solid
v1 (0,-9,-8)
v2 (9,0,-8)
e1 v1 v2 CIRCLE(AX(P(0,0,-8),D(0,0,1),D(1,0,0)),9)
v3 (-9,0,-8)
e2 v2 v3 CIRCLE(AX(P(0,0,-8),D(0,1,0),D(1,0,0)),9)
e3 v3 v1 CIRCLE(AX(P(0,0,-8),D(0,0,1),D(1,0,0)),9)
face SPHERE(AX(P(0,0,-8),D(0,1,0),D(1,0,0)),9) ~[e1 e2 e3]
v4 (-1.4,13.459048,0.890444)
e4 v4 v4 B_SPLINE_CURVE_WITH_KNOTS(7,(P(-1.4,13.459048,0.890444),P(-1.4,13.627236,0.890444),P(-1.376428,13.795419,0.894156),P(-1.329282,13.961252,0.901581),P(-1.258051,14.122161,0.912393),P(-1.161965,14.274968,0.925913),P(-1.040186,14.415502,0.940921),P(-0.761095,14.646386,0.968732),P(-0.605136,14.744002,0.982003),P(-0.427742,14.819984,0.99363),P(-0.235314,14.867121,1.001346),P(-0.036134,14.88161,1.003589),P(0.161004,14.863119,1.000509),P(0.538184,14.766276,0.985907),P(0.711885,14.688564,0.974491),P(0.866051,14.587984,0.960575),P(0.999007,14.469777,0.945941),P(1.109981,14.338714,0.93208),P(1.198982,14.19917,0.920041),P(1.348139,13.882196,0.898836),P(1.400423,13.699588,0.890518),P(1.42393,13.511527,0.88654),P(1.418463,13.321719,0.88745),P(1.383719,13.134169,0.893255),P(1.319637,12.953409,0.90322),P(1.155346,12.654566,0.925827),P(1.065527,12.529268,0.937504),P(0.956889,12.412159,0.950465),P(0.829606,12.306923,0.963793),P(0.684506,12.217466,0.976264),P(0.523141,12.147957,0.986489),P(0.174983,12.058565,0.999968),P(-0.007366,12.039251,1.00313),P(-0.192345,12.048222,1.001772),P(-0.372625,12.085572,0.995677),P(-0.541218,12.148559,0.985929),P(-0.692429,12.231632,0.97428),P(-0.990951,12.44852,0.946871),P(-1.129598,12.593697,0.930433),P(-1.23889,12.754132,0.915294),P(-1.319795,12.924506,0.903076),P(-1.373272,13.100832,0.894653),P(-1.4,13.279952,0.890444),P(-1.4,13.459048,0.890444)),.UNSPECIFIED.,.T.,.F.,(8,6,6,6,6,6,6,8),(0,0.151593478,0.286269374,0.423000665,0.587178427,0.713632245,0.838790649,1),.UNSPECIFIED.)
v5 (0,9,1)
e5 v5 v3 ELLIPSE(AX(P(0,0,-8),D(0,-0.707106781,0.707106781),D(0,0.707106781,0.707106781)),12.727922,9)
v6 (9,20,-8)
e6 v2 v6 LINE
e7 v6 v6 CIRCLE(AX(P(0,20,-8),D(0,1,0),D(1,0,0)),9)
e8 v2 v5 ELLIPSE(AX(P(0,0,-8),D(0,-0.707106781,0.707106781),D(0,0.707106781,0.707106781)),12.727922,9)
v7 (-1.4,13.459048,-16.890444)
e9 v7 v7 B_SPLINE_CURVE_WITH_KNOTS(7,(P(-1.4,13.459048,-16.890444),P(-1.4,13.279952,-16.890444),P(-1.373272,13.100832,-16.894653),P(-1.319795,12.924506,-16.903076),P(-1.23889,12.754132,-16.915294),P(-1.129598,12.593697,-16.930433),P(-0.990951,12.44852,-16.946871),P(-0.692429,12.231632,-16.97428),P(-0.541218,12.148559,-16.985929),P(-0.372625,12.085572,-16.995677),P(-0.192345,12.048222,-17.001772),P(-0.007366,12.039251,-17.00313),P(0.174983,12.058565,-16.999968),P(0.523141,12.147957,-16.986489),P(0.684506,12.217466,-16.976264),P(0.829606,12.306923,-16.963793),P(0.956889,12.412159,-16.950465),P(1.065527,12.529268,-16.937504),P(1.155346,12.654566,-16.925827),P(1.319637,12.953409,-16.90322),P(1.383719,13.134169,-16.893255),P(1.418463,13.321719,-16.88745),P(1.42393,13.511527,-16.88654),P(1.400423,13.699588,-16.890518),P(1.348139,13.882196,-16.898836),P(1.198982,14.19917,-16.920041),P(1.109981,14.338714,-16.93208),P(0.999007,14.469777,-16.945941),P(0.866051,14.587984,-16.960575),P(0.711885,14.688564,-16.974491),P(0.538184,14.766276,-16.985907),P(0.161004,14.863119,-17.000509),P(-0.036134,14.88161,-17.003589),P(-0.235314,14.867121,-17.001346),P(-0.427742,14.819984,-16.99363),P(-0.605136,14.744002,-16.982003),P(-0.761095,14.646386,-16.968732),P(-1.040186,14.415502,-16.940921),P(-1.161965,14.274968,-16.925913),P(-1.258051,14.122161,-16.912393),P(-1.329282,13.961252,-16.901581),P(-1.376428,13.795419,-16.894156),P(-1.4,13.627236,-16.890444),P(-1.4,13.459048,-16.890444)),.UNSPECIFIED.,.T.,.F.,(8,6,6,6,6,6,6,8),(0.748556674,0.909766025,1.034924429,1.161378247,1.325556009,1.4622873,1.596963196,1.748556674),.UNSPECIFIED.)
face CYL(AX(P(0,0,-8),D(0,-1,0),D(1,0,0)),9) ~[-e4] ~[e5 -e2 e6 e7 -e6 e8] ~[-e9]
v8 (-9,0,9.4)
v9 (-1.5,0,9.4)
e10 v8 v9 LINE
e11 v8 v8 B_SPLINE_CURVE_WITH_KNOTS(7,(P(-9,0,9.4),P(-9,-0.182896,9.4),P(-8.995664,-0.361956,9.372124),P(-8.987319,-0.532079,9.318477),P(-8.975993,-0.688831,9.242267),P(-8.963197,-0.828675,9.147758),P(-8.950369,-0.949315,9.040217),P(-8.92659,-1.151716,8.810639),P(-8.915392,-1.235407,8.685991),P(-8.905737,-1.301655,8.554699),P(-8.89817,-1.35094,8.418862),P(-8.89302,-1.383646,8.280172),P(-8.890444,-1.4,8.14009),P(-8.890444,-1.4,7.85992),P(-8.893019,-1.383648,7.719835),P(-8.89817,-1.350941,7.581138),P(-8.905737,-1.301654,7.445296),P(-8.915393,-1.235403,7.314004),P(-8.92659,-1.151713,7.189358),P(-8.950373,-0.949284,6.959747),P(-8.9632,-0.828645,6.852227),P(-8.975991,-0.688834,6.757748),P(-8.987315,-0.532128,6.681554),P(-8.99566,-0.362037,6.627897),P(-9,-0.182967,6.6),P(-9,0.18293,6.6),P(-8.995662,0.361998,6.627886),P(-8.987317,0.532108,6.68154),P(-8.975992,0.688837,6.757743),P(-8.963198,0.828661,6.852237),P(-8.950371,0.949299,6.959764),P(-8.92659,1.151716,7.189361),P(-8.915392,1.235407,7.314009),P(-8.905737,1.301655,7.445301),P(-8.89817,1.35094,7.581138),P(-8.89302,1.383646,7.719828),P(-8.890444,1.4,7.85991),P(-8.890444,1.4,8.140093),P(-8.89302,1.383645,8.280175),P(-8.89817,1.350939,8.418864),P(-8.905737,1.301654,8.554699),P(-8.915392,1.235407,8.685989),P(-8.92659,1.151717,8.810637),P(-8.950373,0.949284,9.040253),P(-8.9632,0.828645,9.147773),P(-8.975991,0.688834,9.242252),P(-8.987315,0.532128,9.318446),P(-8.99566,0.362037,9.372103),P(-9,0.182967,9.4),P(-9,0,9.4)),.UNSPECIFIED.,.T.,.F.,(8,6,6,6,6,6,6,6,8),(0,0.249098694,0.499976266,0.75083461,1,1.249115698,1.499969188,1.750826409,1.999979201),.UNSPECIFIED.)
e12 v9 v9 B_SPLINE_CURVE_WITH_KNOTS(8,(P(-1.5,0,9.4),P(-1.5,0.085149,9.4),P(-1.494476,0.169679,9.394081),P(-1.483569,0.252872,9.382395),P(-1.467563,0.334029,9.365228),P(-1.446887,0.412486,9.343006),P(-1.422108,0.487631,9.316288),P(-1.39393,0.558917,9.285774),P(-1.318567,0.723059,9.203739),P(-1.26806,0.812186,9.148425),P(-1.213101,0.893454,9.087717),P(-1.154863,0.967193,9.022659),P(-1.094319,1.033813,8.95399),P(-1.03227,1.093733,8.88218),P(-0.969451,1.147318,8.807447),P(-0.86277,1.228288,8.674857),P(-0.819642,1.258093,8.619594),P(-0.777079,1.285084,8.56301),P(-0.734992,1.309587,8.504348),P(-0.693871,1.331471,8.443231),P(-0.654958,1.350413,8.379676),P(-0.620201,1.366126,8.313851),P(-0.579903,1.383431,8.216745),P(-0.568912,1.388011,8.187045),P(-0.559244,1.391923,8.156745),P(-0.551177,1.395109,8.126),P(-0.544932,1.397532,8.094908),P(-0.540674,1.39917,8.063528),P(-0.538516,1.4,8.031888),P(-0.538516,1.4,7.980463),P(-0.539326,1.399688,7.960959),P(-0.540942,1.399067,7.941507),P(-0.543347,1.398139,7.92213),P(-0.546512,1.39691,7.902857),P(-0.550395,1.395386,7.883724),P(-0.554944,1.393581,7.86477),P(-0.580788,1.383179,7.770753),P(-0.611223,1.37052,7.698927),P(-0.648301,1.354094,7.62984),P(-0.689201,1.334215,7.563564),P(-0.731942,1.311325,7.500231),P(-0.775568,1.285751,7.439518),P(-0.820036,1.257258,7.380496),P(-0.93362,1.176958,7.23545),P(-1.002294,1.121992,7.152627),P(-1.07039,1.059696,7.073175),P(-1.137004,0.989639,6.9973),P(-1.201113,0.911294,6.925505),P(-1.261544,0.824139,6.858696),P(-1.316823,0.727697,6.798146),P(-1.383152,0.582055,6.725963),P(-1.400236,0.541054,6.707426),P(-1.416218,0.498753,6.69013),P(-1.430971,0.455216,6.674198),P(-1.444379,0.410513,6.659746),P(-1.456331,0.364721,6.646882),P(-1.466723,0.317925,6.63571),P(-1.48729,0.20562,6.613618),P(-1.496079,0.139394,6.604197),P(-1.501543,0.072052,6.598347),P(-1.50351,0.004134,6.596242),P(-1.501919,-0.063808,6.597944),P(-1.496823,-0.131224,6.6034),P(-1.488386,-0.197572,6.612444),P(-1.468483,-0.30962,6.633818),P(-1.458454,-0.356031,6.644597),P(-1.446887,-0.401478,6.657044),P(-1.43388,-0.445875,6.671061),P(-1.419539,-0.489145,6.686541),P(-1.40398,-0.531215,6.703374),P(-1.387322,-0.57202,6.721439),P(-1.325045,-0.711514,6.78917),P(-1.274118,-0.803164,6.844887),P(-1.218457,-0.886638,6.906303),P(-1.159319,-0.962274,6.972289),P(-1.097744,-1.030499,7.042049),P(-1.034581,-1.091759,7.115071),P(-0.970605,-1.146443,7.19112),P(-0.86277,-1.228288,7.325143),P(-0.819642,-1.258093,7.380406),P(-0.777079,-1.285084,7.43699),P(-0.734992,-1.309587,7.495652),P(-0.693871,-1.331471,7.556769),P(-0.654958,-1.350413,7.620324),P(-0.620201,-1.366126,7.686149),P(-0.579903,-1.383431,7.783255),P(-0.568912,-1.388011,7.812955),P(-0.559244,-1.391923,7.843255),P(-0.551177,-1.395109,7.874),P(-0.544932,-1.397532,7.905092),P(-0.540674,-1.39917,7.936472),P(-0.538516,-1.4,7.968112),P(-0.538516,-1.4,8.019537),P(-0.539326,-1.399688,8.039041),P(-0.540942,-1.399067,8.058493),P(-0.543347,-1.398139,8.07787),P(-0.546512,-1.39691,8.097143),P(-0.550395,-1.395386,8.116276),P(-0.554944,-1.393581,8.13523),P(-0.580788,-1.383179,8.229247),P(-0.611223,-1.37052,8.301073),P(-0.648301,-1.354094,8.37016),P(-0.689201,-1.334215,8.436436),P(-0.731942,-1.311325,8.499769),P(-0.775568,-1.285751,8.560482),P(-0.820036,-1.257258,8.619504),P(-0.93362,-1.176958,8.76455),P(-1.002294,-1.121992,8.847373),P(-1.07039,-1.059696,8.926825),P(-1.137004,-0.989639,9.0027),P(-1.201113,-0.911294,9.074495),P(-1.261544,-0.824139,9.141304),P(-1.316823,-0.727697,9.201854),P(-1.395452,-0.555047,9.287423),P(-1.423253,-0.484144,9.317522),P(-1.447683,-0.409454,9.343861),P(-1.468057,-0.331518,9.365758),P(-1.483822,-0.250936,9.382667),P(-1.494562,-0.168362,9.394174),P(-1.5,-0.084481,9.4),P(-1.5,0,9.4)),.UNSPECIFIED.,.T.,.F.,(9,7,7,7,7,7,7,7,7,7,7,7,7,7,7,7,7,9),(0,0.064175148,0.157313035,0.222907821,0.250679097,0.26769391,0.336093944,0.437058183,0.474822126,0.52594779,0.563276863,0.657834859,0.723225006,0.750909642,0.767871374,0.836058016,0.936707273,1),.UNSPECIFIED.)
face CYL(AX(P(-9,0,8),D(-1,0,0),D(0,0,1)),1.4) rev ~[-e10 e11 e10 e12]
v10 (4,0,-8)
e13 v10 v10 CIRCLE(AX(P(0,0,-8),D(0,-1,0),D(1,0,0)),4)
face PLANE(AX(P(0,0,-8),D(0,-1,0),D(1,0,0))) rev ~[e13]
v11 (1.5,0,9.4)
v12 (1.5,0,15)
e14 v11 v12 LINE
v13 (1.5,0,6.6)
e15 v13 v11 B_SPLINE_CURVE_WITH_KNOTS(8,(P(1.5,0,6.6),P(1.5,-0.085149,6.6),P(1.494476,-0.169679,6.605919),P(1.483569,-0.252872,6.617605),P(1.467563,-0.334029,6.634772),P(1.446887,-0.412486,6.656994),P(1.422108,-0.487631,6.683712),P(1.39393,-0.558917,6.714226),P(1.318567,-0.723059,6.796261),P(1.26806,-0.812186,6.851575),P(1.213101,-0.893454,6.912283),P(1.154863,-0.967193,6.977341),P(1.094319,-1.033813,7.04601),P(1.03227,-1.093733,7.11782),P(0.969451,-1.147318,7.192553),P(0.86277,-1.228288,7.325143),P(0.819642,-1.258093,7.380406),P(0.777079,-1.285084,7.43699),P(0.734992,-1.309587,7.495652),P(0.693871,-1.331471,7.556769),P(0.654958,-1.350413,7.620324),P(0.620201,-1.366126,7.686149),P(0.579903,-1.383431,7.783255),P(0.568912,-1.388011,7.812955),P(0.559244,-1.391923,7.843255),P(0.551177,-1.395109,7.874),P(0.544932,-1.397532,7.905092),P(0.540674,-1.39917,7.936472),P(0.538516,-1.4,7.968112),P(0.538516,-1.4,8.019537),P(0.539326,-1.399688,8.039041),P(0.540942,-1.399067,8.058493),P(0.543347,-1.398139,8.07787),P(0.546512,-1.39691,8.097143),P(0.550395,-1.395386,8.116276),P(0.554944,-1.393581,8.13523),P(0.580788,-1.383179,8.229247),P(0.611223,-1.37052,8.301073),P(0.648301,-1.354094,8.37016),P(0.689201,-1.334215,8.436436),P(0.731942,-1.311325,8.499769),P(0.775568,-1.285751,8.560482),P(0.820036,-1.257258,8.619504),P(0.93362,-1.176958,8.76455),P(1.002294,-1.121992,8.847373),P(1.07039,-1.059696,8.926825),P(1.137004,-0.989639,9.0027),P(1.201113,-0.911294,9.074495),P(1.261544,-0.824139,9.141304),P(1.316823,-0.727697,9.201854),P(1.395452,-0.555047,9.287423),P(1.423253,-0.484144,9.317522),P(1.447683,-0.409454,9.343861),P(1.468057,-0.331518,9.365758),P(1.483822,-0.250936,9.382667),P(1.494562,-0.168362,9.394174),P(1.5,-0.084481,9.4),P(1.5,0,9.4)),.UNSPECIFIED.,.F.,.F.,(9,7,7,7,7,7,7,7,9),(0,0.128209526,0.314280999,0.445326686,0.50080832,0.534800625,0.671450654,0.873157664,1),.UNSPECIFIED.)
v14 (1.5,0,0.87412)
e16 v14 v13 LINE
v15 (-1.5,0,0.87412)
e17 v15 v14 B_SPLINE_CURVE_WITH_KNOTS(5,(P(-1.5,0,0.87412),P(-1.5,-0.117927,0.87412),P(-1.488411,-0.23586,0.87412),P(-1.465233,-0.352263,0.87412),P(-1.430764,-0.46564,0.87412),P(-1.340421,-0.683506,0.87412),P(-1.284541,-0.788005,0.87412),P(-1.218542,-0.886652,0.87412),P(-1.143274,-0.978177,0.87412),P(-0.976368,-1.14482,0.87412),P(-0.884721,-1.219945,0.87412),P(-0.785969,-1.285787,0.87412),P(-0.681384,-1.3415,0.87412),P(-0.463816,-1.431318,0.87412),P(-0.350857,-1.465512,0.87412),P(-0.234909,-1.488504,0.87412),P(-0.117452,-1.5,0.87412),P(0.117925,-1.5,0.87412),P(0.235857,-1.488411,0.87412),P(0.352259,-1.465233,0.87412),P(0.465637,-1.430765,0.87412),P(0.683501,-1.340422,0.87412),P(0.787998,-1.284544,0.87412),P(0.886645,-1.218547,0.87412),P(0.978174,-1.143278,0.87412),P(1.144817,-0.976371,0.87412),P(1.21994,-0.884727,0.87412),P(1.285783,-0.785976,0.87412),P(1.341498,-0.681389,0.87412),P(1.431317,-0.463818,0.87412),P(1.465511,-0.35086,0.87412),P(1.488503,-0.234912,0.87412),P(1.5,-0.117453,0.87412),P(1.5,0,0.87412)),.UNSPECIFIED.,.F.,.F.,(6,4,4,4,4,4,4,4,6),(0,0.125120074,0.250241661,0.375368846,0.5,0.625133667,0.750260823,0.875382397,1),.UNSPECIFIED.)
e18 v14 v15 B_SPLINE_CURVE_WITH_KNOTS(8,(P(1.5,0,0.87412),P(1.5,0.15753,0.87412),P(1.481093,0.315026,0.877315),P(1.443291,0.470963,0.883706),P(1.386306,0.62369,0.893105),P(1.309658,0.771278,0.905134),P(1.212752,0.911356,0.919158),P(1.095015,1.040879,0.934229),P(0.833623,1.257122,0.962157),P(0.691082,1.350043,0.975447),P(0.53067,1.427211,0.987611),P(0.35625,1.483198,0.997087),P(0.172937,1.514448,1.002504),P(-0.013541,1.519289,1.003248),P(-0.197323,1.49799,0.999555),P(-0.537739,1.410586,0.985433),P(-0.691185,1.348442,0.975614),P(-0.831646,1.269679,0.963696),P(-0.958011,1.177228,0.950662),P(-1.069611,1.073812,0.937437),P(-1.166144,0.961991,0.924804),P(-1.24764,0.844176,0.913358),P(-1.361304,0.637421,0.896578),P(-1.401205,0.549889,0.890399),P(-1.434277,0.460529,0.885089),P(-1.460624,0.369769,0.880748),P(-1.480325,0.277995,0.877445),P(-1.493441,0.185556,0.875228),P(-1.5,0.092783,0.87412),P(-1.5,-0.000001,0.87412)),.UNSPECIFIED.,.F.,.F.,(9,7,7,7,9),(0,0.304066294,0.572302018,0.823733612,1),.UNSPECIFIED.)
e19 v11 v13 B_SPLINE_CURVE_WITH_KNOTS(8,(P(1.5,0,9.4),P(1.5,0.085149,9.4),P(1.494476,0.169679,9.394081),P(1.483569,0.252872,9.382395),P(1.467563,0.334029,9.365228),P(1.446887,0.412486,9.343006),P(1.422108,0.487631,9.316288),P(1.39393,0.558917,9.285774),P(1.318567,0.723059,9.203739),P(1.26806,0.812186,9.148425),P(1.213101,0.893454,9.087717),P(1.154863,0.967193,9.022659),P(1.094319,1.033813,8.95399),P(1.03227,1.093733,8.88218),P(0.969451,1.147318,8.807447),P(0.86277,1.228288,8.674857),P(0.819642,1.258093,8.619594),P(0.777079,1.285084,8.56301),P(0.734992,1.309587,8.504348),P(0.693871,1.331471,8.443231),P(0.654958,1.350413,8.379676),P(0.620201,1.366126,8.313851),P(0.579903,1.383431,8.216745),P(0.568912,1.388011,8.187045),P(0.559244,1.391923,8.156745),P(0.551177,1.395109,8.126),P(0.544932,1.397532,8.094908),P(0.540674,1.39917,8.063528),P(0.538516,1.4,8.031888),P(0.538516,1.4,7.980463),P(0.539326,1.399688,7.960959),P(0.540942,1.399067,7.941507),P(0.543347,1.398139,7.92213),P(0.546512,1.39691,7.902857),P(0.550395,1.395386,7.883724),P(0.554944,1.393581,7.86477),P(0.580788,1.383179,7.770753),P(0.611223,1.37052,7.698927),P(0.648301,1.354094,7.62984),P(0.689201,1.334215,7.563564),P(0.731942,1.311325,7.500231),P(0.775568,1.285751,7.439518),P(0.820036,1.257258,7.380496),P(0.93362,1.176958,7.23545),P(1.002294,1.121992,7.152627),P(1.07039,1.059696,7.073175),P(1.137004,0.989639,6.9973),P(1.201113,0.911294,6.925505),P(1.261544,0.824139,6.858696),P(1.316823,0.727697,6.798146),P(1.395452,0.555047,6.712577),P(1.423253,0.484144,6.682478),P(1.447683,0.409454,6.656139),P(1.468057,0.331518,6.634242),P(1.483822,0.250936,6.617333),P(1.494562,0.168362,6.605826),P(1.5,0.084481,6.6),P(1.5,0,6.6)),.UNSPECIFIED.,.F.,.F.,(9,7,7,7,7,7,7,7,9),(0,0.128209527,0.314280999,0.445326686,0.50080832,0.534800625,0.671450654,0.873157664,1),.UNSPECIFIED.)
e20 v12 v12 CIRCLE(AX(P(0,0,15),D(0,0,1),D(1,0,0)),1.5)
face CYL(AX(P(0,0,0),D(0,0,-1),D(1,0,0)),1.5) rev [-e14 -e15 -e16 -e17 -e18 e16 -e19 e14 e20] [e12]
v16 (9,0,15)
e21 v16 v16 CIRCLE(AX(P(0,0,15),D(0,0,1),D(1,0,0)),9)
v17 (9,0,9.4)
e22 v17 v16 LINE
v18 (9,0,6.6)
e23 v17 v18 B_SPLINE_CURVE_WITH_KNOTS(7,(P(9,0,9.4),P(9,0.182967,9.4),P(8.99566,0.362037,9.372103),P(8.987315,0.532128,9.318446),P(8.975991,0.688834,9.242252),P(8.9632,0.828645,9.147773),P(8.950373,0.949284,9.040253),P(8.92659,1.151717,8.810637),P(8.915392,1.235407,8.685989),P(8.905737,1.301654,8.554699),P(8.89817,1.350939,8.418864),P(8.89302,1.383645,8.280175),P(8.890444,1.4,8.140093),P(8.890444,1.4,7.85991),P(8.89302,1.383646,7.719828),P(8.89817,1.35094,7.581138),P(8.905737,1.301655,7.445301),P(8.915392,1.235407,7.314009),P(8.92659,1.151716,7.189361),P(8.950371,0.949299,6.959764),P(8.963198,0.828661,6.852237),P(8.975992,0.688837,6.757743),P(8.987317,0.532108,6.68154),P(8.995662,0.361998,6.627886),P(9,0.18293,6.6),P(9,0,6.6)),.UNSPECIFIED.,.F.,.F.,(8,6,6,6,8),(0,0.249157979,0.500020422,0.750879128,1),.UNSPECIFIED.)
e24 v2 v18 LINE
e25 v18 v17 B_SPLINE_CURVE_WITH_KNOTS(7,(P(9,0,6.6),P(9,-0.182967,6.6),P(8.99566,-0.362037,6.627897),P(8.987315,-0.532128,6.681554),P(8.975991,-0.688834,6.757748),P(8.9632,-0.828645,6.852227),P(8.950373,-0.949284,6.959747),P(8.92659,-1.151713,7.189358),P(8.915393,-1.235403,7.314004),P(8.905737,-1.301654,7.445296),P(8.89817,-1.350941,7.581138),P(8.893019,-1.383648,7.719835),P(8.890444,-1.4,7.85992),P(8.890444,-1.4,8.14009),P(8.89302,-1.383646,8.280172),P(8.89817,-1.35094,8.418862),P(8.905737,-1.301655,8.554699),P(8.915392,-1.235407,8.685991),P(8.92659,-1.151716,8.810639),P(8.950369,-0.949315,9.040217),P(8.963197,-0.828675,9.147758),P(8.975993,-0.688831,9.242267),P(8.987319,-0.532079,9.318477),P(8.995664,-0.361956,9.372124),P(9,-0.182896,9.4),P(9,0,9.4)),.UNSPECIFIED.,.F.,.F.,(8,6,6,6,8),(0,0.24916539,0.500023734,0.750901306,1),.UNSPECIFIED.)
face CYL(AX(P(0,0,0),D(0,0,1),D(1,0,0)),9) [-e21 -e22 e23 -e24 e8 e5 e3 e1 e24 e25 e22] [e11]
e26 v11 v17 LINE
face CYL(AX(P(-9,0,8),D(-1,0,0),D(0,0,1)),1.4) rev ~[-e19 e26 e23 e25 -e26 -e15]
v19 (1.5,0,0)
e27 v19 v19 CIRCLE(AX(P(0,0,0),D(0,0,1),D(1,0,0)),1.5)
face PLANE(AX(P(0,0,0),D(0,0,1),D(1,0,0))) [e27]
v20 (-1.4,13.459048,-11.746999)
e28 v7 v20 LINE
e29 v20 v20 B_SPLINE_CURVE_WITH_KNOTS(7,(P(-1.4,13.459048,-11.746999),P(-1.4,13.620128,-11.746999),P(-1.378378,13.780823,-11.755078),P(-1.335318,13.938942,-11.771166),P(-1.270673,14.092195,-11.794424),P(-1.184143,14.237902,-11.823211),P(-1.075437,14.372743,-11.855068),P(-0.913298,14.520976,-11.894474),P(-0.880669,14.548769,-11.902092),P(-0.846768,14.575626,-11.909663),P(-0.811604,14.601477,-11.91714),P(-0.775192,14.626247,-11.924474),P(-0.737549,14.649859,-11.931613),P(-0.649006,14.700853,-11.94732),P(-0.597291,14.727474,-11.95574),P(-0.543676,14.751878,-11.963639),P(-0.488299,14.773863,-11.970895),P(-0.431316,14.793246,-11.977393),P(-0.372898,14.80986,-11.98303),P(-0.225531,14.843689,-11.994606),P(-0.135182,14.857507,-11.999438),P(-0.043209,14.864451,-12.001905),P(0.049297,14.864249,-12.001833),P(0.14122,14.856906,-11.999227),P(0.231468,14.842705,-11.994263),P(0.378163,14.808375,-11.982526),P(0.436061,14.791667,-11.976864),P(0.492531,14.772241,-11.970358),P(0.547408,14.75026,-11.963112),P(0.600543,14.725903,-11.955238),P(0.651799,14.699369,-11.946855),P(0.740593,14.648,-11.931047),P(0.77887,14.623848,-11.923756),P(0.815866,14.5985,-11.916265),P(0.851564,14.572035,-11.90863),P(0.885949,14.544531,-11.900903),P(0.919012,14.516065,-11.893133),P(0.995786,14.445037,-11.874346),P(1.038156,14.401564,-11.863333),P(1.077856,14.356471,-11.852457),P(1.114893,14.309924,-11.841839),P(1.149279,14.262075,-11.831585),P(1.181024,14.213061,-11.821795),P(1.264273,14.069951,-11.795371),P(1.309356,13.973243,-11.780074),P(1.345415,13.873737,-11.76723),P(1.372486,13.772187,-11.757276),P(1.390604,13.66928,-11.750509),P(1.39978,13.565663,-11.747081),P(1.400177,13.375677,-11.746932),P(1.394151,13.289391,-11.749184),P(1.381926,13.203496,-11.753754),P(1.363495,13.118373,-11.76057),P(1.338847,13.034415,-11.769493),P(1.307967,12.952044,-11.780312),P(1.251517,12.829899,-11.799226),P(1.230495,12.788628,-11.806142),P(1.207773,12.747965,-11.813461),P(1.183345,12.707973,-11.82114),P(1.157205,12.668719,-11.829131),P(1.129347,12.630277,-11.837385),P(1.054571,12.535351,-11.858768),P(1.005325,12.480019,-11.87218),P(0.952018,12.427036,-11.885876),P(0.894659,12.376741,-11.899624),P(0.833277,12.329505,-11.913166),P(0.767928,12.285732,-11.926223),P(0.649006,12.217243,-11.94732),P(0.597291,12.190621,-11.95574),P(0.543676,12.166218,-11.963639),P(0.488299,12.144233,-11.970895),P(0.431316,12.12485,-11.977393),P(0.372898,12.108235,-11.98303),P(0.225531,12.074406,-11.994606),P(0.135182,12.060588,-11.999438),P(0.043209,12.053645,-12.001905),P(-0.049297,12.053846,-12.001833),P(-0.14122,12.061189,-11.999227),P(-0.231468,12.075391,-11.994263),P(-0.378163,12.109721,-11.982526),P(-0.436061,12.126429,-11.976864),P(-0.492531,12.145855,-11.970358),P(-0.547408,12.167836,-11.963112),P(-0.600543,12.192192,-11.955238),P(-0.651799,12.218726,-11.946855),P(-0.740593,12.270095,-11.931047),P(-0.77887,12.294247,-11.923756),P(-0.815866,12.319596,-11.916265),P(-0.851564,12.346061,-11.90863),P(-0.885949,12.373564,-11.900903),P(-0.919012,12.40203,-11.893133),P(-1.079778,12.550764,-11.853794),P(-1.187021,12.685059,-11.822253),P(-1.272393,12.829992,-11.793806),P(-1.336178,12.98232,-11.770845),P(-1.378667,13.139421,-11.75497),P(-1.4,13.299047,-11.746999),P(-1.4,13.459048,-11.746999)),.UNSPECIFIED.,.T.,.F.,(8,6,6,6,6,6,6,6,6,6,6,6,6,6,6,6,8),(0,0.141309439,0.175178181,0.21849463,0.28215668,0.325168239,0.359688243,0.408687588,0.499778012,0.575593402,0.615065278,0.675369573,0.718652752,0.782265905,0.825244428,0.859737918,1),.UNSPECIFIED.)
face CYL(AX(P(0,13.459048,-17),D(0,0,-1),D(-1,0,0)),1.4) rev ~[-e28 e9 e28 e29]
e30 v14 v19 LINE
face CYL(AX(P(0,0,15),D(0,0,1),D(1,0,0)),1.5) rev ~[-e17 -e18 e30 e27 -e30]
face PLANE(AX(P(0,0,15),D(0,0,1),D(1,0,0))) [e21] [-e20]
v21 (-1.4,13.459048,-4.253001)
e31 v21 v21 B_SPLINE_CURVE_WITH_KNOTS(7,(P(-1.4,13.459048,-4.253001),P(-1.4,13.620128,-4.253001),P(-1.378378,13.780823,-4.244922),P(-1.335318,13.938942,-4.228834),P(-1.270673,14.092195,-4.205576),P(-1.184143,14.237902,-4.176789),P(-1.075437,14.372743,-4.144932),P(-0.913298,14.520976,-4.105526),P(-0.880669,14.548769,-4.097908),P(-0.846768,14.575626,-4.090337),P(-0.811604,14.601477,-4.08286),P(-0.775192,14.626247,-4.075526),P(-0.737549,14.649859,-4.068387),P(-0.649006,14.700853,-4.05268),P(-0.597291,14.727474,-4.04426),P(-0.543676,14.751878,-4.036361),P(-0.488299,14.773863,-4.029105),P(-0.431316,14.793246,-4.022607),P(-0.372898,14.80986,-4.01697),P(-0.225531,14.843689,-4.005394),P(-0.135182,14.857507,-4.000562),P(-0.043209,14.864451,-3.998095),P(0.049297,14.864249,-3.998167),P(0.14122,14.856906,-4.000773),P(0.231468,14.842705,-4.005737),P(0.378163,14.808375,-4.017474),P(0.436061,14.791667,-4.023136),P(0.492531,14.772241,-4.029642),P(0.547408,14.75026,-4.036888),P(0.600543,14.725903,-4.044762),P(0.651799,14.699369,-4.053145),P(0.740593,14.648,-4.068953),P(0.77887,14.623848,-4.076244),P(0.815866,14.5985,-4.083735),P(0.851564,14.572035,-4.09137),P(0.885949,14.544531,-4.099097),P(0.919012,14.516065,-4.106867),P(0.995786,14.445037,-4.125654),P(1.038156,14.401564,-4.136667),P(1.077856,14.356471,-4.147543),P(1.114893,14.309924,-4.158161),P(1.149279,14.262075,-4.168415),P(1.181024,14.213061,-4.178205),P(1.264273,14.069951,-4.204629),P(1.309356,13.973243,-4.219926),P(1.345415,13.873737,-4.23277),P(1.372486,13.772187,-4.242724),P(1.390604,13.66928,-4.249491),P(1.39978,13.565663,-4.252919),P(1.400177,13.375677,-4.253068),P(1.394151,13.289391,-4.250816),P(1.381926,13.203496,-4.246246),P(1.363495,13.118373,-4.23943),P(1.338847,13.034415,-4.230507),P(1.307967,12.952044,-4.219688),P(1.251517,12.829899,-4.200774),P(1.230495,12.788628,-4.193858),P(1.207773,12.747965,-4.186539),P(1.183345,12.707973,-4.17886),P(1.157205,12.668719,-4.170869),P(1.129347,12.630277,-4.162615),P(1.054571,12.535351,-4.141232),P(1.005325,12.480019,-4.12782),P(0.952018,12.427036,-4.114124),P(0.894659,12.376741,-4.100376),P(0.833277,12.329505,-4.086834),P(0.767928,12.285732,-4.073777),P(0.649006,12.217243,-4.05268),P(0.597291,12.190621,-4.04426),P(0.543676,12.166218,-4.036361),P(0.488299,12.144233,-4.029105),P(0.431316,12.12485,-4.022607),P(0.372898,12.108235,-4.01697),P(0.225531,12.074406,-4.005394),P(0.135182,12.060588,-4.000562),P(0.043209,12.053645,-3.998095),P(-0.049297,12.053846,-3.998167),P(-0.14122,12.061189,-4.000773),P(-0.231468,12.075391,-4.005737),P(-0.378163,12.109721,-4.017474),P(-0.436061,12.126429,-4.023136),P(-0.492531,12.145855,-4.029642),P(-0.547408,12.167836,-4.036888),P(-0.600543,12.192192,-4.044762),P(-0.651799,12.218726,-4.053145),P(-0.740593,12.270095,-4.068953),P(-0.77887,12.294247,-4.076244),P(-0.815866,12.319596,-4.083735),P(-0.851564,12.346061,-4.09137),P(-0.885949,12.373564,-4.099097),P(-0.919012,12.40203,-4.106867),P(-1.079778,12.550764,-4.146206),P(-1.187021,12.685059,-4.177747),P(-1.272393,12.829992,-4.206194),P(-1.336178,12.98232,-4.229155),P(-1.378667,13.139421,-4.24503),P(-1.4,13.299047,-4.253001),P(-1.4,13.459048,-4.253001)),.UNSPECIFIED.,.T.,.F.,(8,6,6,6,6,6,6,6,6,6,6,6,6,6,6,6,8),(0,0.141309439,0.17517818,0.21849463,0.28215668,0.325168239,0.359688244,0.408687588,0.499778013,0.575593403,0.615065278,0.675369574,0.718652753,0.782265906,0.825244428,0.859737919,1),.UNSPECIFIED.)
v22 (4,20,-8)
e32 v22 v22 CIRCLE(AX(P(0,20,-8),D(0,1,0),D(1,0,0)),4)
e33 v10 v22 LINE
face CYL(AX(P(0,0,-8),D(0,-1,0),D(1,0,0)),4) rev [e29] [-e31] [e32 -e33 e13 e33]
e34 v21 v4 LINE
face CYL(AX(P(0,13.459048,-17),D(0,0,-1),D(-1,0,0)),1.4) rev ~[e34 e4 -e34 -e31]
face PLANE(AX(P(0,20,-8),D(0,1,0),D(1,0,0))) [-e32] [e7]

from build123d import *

# Parameters (mm, degrees)
CROQUIS1_R                   = 9
CROQUIS1_R_2                 = 1.5
SALIENTE_EXTRUIR1_DEPTH      = 15
SALIENTE_EXTRUIR1_DEPTH_BACK = 8
CROQUIS2_R                   = 9
CROQUIS2_R_2                 = 4
SALIENTE_EXTRUIR4_DEPTH      = 20
CROQUIS7_R                   = 4
CORTAR_EXTRUIR1_DEPTH        = 20
CROQUIS8_R                   = 1.5
CORTAR_EXTRUIR2_DEPTH        = 15
CROQUIS9_R                   = 1.4
CORTAR_EXTRUIR3_DEPTH        = 19
CROQUIS10_R                  = 1.4
CORTAR_EXTRUIR4_DEPTH        = 1
CORTAR_EXTRUIR4_DEPTH_BACK   = 33.0000001


with BuildPart() as part:
    # Croquis1 → Saliente-Extruir1 (new body, two sides)
    with BuildSketch(Plane.XY) as saliente_extruir1_sk:
        Circle(CROQUIS1_R)
        Circle(CROQUIS1_R_2, mode=Mode.SUBTRACT)
    extrude(amount=SALIENTE_EXTRUIR1_DEPTH)
    extrude(saliente_extruir1_sk.sketch, amount=-SALIENTE_EXTRUIR1_DEPTH_BACK)

    # Croquis2 → Saliente-Extruir4 (add)
    with BuildSketch(Plane(origin=(0, 0, 0), x_dir=(1, 0, 0), z_dir=(0, 1, 0))):
        with Locations((0, 8)):
            Circle(CROQUIS2_R)
        with Locations((0, 8)):
            Circle(CROQUIS2_R_2, mode=Mode.SUBTRACT)
    extrude(amount=SALIENTE_EXTRUIR4_DEPTH)

    # Croquis6 → Revolución4 (revolve)
    with BuildSketch(Plane(origin=(0, 0, -8), x_dir=(-1, 0, 0), z_dir=(0, 0, -1))):
        with BuildLine():
            Line((0, 0), (0, -9))
            ThreePointArc((0, -9), (-6.363961031, -6.363961031), (-9, 0))
            Line((-9, 0), (0, 0))
        make_face()
    revolve(axis=Axis((0, 0, -8), (0, -1, 0)))

    # Croquis7 → Cortar-Extruir1 (cut)
    with BuildSketch(Plane(origin=(0, 20, 0), x_dir=(1, 0, 0), z_dir=(0, 1, 0))):
        with Locations((0, 8)):
            Circle(CROQUIS7_R)
    extrude(amount=-CORTAR_EXTRUIR1_DEPTH, mode=Mode.SUBTRACT)

    # Croquis8 → Cortar-Extruir2 (cut)
    with BuildSketch(Plane.XY.offset(15)):
        Circle(CROQUIS8_R)
    extrude(amount=-CORTAR_EXTRUIR2_DEPTH, mode=Mode.SUBTRACT)

    # Croquis9 → Cortar-Extruir3 (cut, through all)
    with BuildSketch(Plane.ZY.offset(9)):
        with Locations((8, 0)):
            Circle(CROQUIS9_R)
    extrude(amount=-CORTAR_EXTRUIR3_DEPTH, mode=Mode.SUBTRACT)

    # Croquis10 → Cortar-Extruir4 (cut, two sides)
    with BuildSketch(Plane(origin=(0, 0, -17), x_dir=(-1, 0, 0), z_dir=(0, 0, -1))) as cortar_extruir4_sk:
        with Locations((0, 13.459047629)):
            Circle(CROQUIS10_R)
    extrude(amount=CORTAR_EXTRUIR4_DEPTH, mode=Mode.SUBTRACT)
    extrude(cortar_extruir4_sk.sketch, amount=-CORTAR_EXTRUIR4_DEPTH_BACK, mode=Mode.SUBTRACT)


solid = part.part
